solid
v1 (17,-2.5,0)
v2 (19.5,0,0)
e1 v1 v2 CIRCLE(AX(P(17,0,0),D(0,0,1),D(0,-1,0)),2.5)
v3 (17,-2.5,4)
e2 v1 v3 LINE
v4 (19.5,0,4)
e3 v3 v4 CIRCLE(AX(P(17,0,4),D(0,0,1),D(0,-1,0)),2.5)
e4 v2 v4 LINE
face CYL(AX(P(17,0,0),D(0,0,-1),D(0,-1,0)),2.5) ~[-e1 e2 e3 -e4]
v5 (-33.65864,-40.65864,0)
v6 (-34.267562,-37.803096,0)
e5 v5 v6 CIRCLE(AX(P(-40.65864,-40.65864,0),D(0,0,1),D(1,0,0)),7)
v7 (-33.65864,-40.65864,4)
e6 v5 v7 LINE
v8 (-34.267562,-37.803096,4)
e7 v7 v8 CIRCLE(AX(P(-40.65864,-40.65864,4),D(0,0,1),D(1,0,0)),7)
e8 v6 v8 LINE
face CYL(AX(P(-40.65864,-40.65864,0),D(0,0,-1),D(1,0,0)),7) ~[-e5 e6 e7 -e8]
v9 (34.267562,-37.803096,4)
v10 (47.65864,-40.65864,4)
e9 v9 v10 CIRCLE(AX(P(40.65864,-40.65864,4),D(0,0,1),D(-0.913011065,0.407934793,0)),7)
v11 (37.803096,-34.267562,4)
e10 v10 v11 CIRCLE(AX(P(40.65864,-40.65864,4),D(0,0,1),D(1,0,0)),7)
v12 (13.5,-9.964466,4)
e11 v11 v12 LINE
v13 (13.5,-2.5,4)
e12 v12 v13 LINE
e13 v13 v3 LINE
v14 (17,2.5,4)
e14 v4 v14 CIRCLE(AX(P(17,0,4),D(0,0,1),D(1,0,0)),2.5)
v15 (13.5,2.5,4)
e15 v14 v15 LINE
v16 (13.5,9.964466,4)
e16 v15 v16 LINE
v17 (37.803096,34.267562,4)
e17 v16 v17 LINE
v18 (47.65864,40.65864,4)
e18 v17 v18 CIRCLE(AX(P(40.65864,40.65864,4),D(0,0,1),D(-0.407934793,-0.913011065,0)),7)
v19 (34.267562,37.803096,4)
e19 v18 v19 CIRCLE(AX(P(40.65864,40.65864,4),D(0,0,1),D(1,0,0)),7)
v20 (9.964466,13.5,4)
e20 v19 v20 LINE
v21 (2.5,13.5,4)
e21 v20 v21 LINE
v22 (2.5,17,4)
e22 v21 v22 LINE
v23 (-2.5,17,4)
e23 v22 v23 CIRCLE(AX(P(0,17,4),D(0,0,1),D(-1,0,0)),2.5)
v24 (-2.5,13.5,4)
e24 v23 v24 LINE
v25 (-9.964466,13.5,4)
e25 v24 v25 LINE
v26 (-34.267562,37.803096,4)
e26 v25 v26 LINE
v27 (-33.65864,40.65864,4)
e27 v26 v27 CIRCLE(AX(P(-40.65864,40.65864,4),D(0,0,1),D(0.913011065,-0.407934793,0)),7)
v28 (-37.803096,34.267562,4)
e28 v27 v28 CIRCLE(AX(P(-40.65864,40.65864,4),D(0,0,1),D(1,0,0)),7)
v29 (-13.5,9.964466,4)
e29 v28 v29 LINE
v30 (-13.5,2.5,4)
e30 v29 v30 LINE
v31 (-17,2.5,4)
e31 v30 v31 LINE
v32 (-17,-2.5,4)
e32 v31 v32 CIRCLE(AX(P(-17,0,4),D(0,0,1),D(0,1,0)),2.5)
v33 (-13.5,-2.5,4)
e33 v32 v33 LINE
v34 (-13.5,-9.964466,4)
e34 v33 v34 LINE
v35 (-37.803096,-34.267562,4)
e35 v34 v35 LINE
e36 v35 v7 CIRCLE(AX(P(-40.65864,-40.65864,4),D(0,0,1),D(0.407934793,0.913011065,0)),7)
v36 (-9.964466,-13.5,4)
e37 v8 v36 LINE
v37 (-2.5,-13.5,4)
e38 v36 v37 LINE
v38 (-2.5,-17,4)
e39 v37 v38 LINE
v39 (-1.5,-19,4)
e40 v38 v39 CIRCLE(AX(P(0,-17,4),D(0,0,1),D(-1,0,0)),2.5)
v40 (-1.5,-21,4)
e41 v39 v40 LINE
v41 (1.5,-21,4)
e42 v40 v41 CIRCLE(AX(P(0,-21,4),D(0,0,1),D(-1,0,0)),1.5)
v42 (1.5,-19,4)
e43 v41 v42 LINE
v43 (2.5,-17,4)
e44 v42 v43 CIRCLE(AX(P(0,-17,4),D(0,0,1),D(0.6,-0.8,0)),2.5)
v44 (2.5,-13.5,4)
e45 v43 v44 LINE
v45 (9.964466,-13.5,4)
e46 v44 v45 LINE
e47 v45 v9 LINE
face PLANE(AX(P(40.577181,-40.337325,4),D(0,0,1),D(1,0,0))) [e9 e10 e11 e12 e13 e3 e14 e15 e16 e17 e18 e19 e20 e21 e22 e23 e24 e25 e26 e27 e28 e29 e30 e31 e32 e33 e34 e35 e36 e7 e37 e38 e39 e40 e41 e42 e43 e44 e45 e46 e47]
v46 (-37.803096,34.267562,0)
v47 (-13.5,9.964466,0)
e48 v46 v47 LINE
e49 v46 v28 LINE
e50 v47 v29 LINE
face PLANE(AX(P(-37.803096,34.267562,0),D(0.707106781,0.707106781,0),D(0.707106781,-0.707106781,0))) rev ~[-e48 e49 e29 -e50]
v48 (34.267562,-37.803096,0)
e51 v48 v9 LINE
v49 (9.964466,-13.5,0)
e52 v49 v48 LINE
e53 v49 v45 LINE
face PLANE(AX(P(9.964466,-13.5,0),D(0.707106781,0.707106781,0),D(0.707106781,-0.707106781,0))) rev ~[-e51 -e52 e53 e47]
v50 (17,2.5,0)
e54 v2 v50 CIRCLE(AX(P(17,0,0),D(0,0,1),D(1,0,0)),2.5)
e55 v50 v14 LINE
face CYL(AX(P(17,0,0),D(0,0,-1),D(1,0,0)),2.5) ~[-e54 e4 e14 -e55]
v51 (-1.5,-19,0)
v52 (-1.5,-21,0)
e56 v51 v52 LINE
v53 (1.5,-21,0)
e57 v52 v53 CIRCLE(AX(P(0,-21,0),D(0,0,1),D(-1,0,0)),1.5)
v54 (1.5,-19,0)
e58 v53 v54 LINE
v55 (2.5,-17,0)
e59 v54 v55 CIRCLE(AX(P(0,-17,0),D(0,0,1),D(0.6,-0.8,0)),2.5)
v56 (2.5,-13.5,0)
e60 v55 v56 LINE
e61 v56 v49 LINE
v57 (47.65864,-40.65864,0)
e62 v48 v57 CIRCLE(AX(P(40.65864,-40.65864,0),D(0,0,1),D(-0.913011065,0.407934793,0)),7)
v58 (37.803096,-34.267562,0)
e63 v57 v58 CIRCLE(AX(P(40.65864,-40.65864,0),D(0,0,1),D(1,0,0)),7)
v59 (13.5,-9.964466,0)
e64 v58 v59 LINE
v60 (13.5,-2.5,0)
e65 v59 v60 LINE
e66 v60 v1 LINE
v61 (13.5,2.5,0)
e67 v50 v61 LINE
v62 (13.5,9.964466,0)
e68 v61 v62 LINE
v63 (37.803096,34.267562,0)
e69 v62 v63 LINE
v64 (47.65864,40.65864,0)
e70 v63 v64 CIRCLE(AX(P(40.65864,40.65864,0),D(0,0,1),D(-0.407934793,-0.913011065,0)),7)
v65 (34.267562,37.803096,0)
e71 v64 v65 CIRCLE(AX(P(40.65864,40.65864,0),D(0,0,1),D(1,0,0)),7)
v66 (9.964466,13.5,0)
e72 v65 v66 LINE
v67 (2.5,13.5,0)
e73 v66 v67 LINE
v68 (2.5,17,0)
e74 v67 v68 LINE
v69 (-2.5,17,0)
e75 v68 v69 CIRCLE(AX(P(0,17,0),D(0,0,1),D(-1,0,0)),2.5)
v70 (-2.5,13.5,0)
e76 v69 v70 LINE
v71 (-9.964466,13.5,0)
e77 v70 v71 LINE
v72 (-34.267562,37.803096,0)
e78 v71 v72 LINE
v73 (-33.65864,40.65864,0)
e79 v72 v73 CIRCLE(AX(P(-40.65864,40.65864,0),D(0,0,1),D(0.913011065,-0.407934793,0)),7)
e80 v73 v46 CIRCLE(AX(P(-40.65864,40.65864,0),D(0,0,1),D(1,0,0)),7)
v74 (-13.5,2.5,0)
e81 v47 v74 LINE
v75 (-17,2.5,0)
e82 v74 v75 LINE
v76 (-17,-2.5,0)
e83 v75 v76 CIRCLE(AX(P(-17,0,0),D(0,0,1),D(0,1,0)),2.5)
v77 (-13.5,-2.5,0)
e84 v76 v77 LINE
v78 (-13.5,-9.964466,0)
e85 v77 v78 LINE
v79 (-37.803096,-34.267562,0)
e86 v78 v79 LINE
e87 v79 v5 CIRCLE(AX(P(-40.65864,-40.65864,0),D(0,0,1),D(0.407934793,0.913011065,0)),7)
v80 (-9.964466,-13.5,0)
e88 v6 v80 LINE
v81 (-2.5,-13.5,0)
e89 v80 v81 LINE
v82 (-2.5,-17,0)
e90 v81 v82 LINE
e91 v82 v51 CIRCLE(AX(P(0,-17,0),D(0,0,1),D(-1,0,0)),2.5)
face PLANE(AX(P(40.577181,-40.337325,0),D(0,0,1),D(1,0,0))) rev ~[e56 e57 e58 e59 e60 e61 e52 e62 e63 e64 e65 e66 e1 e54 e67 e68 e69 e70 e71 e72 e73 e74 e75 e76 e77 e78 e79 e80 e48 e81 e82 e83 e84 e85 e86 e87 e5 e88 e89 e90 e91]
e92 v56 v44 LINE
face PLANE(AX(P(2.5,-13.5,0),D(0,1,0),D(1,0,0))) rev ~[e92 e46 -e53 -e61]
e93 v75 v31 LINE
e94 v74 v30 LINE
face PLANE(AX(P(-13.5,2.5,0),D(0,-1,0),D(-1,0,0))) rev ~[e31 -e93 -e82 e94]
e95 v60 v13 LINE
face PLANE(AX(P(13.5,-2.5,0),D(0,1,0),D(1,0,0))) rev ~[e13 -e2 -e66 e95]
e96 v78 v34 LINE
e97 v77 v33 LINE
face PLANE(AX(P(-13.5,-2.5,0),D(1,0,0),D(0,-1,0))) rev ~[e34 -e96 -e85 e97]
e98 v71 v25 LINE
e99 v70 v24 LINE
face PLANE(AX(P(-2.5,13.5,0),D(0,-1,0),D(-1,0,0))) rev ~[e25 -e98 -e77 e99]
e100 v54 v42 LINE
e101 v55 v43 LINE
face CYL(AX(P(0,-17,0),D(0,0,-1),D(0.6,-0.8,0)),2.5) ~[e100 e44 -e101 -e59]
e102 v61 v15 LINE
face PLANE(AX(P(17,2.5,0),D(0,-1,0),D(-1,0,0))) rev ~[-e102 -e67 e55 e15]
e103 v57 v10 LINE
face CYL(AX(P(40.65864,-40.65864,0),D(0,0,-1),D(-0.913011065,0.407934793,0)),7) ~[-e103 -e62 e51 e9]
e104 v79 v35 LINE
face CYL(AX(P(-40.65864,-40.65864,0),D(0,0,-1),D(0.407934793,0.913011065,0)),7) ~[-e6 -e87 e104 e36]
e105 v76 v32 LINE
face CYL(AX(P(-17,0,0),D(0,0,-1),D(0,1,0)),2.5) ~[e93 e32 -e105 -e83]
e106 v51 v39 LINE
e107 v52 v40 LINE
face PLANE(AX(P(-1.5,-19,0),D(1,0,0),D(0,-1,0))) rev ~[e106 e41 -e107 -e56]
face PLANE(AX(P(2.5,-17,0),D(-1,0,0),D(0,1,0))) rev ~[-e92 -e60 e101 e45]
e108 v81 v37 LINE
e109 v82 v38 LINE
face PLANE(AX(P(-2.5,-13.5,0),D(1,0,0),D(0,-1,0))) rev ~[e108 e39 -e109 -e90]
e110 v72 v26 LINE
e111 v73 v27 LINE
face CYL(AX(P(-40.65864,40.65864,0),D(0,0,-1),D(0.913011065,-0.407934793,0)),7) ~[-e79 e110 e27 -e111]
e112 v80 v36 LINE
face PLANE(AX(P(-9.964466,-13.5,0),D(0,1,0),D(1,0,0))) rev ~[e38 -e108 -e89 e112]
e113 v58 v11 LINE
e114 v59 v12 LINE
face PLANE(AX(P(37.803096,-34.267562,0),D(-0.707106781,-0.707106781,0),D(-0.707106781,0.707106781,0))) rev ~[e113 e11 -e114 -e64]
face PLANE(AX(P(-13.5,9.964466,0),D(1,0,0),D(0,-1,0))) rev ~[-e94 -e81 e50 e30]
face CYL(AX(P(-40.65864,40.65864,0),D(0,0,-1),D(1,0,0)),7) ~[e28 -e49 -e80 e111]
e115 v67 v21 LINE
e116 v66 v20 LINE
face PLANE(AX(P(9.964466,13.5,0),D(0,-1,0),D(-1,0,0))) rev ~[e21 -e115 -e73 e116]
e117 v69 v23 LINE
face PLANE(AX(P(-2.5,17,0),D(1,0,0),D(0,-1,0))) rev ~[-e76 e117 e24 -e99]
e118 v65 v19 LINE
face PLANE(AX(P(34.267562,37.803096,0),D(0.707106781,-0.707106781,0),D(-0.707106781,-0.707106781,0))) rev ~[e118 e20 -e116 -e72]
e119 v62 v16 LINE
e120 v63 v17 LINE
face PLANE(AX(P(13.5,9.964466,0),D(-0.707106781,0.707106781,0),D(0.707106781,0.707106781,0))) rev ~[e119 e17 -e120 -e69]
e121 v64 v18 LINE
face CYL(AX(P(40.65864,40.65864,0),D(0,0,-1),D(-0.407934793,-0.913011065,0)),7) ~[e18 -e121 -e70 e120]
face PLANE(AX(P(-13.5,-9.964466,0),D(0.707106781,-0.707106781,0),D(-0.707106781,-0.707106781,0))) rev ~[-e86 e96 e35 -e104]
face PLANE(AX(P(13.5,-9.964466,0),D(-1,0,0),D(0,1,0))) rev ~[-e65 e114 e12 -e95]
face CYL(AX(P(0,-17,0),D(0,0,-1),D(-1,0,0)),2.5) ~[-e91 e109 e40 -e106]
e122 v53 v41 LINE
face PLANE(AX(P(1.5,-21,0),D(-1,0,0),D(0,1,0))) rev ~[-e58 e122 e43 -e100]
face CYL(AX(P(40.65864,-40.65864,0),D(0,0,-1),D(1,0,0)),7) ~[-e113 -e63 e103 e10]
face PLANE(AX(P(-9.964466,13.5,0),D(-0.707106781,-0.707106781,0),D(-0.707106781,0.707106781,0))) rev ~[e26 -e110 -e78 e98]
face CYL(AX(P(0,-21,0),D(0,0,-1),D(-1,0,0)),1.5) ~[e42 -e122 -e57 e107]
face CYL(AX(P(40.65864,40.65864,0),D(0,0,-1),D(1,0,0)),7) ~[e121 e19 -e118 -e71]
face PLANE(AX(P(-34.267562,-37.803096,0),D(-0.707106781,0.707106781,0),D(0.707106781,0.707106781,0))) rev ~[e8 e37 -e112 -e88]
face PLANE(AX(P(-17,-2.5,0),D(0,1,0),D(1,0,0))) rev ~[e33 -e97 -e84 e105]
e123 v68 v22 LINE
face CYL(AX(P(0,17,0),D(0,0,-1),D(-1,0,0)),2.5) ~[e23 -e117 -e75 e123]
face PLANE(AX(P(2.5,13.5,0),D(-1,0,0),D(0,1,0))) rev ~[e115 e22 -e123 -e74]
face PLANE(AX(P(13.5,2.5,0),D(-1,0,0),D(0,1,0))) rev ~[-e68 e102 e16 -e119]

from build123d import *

# Parameters (mm, degrees)
F0_R     = 1.5
F0_R_2   = 1
F1_DEPTH = 4


with BuildPart() as f1:
    # F0 (on Top) → F1 (new body)
    with BuildSketch(Plane.XY):
        with BuildLine():
            ThreePointArc((47.6586399182, -40.6586399182), (44.4672613982, -34.7854463728), (37.803096369, -34.267562463))
            Line((37.803096369, -34.267562463), (42.4264068712, -38.8908729653))
            Line((42.4264068712, -38.8908729653), (40.6586399182, -40.6586399182))
            Line((40.6586399182, -40.6586399182), (38.8908729653, -42.4264068712))
            Line((38.8908729653, -42.4264068712), (34.267562463, -37.803096369))
            ThreePointArc((34.267562463, -37.803096369), (39.1987670105, -47.5047169769), (47.6586399182, -40.6586399182))
        make_face()
        with BuildLine():
            Line((-42.4264068712, 38.8908729653), (-40.6586399182, 40.6586399182))
            Line((-40.6586399182, 40.6586399182), (-38.8908729653, 42.4264068712))
            Line((-38.8908729653, 42.4264068712), (-34.267562463, 37.803096369))
            ThreePointArc((-34.267562463, 37.803096369), (-33.8125628596, 39.1987670105), (-33.6586399182, 40.6586399182))
            ThreePointArc((-33.6586399182, 40.6586399182), (-46.5318334637, 44.4672613982), (-37.803096369, 34.267562463))
            Line((-37.803096369, 34.267562463), (-42.4264068712, 38.8908729653))
        make_face()
        with BuildLine():
            Line((-42.4264068712, -38.8908729653), (-37.803096369, -34.267562463))
            ThreePointArc((-37.803096369, -34.267562463), (-46.5318334637, -44.4672613982), (-33.6586399182, -40.6586399182))
            ThreePointArc((-33.6586399182, -40.6586399182), (-33.8125628596, -39.1987670105), (-34.267562463, -37.803096369))
            Line((-34.267562463, -37.803096369), (-38.8908729653, -42.4264068712))
            Line((-38.8908729653, -42.4264068712), (-40.6586399182, -40.6586399182))
            Line((-40.6586399182, -40.6586399182), (-42.4264068712, -38.8908729653))
        make_face()
        with BuildLine():
            ThreePointArc((47.6586399182, 40.6586399182), (39.1987670105, 47.5047169769), (34.267562463, 37.803096369))
            Line((34.267562463, 37.803096369), (38.8908729653, 42.4264068712))
            Line((38.8908729653, 42.4264068712), (40.6586399182, 40.6586399182))
            Line((40.6586399182, 40.6586399182), (42.4264068712, 38.8908729653))
            Line((42.4264068712, 38.8908729653), (37.803096369, 34.267562463))
            ThreePointArc((37.803096369, 34.267562463), (44.4672613982, 34.7854463728), (47.6586399182, 40.6586399182))
        make_face()
        with BuildLine():
            Line((13.5, -13.5), (9.9644660941, -13.5))
            Line((9.9644660941, -13.5), (34.267562463, -37.803096369))
            ThreePointArc((34.267562463, -37.803096369), (34.8923586209, -36.6900129516), (35.7088924499, -35.7088924499))
            Line((35.7088924499, -35.7088924499), (13.5, -13.5))
        make_face()
        with BuildLine():
            Line((-9.9644660941, -13.5), (-13.5, -13.5))
            Line((-13.5, -13.5), (-35.7088924499, -35.7088924499))
            ThreePointArc((-35.7088924499, -35.7088924499), (-34.8923586209, -36.6900129516), (-34.267562463, -37.803096369))
            Line((-34.267562463, -37.803096369), (-9.9644660941, -13.5))
        make_face()
        with BuildLine():
            Line((37.803096369, -34.267562463), (13.5, -9.9644660941))
            Line((13.5, -9.9644660941), (13.5, -13.5))
            Line((13.5, -13.5), (35.7088924499, -35.7088924499))
            ThreePointArc((35.7088924499, -35.7088924499), (36.6900129516, -34.8923586209), (37.803096369, -34.267562463))
        make_face()
        with BuildLine():
            Line((-13.5, -13.5), (-13.5, -9.9644660941))
            Line((-13.5, -9.9644660941), (-37.803096369, -34.267562463))
            ThreePointArc((-37.803096369, -34.267562463), (-36.6900129516, -34.8923586209), (-35.7088924499, -35.7088924499))
            Line((-35.7088924499, -35.7088924499), (-13.5, -13.5))
        make_face()
        with BuildLine():
            Line((34.267562463, 37.803096369), (9.9644660941, 13.5))
            Line((9.9644660941, 13.5), (13.5, 13.5))
            Line((13.5, 13.5), (35.7088924499, 35.7088924499))
            ThreePointArc((35.7088924499, 35.7088924499), (34.8923586209, 36.6900129516), (34.267562463, 37.803096369))
        make_face()
        with BuildLine():
            Line((-35.7088924499, 35.7088924499), (-13.5, 13.5))
            Line((-13.5, 13.5), (-9.9644660941, 13.5))
            Line((-9.9644660941, 13.5), (-34.267562463, 37.803096369))
            ThreePointArc((-34.267562463, 37.803096369), (-34.8923586209, 36.6900129516), (-35.7088924499, 35.7088924499))
        make_face()
        with BuildLine():
            Line((35.7088924499, 35.7088924499), (13.5, 13.5))
            Line((13.5, 13.5), (13.5, 9.9644660941))
            Line((13.5, 9.9644660941), (37.803096369, 34.267562463))
            ThreePointArc((37.803096369, 34.267562463), (36.6900129516, 34.8923586209), (35.7088924499, 35.7088924499))
        make_face()
        with BuildLine():
            Line((-13.5, 9.9644660941), (-13.5, 13.5))
            Line((-13.5, 13.5), (-35.7088924499, 35.7088924499))
            ThreePointArc((-35.7088924499, 35.7088924499), (-36.6900129516, 34.8923586209), (-37.803096369, 34.267562463))
            Line((-37.803096369, 34.267562463), (-13.5, 9.9644660941))
        make_face()
        Polygon((-2.5, 13.5), (-9.9644660941, 13.5), (-7.2144660941, 10.75), (7.2144660941, 10.75), (9.9644660941, 13.5), (2.5, 13.5), align=None)
        Polygon((13.5, 9.9644660941), (10.75, 7.2144660941), (10.75, -7.2144660941), (13.5, -9.9644660941), (13.5, -2.5), (13.5, 2.5), align=None)
        Polygon((-10.75, 7.2144660941), (-13.5, 9.9644660941), (-13.5, 2.5), (-13.5, -2.5), (-13.5, -9.9644660941), (-10.75, -7.2144660941), align=None)
        Polygon((7.2144660941, -10.75), (-7.2144660941, -10.75), (-9.9644660941, -13.5), (-2.5, -13.5), (2.5, -13.5), (9.9644660941, -13.5), align=None)
        Polygon((-4.2855339059, -0.75), (-9.25, -5.7144660941), (-9.25, -9.25), (-1.767766953, -1.767766953), (-2.7855339059, -0.75), align=None)
        Polygon((-5.7144660941, 9.25), (-9.25, 9.25), (-1.767766953, 1.767766953), (-0.75, 2.7855339059), (-0.75, 4.2855339059), align=None)
        Polygon((2.7855339059, -0.75), (1.767766953, -1.767766953), (9.25, -9.25), (9.25, -5.7144660941), (4.2855339059, -0.75), align=None)
        Polygon((9.25, -9.25), (1.767766953, -1.767766953), (0.75, -2.7855339059), (0.75, -4.2855339059), (5.7144660941, -9.25), align=None)
        Polygon((-1.767766953, -1.767766953), (-9.25, -9.25), (-5.7144660941, -9.25), (-0.75, -4.2855339059), (-0.75, -2.7855339059), align=None)
        Polygon((9.25, 5.7144660941), (9.25, 9.25), (1.767766953, 1.767766953), (2.7855339059, 0.75), (4.2855339059, 0.75), align=None)
        Polygon((9.25, 9.25), (5.7144660941, 9.25), (0.75, 4.2855339059), (0.75, 2.7855339059), (1.767766953, 1.767766953), align=None)
        Polygon((-1.767766953, 1.767766953), (-9.25, 9.25), (-9.25, 5.7144660941), (-4.2855339059, 0.75), (-2.7855339059, 0.75), align=None)
        with BuildLine():
            ThreePointArc((19.5, 0), (18.767766953, 1.767766953), (17, 2.5))
            ThreePointArc((17, 2.5), (14.5, 0), (17, -2.5))
            ThreePointArc((17, -2.5), (18.767766953, -1.767766953), (19.5, 0))
        make_face()
        with Locations((17, 0)):
            Circle(F0_R, mode=Mode.SUBTRACT)
        with BuildLine():
            ThreePointArc((2.5, 17), (0, 19.5), (-2.5, 17))
            ThreePointArc((-2.5, 17), (0, 14.5), (2.5, 17))
        make_face()
        with Locations((0, 17)):
            Circle(F0_R, mode=Mode.SUBTRACT)
        with BuildLine():
            ThreePointArc((-14.5, 0), (-15.232233047, 1.767766953), (-17, 2.5))
            ThreePointArc((-17, 2.5), (-19.5, 0), (-17, -2.5))
            ThreePointArc((-17, -2.5), (-15.232233047, -1.767766953), (-14.5, 0))
        make_face()
        with Locations((-17, 0)):
            Circle(F0_R, mode=Mode.SUBTRACT)
        with BuildLine():
            ThreePointArc((2.5, -17), (0, -14.5), (-2.5, -17))
            ThreePointArc((-2.5, -17), (-2.2360679775, -18.1180339887), (-1.5, -19))
            ThreePointArc((-1.5, -19), (-0.790569421, -19.3717082432), (-1.25e-08, -19.5))
            ThreePointArc((-1.25e-08, -19.5), (0.7905694091, -19.3717082471), (1.5, -19))
            ThreePointArc((1.5, -19), (2.2360679775, -18.1180339887), (2.5, -17))
        make_face()
        with Locations((0, -17)):
            Circle(F0_R, mode=Mode.SUBTRACT)
        Polygon((10.75, -7.2144660941), (10.75, 7.2144660941), (9.25, 5.7144660941), (9.25, 0.75), (9.25, -0.75), (9.25, -5.7144660941), align=None)
        Polygon((-5.7144660941, -9.25), (-7.2144660941, -10.75), (7.2144660941, -10.75), (5.7144660941, -9.25), (0.75, -9.25), (-0.75, -9.25), align=None)
        Polygon((-9.25, 5.7144660941), (-10.75, 7.2144660941), (-10.75, -7.2144660941), (-9.25, -5.7144660941), (-9.25, -0.75), (-9.25, 0.75), align=None)
        Polygon((7.2144660941, 10.75), (-7.2144660941, 10.75), (-5.7144660941, 9.25), (-0.75, 9.25), (0.75, 9.25), (5.7144660941, 9.25), align=None)
        with BuildLine():
            ThreePointArc((35.7088924499, -35.7088924499), (34.8923586209, -36.6900129516), (34.267562463, -37.803096369))
            Line((34.267562463, -37.803096369), (38.8908729653, -42.4264068712))
            Line((38.8908729653, -42.4264068712), (40.6586399182, -40.6586399182))
            Line((40.6586399182, -40.6586399182), (35.7088924499, -35.7088924499))
        make_face()
        with BuildLine():
            ThreePointArc((-34.267562463, -37.803096369), (-34.8923586209, -36.6900129516), (-35.7088924499, -35.7088924499))
            Line((-35.7088924499, -35.7088924499), (-40.6586399182, -40.6586399182))
            Line((-40.6586399182, -40.6586399182), (-38.8908729653, -42.4264068712))
            Line((-38.8908729653, -42.4264068712), (-34.267562463, -37.803096369))
        make_face()
        with BuildLine():
            ThreePointArc((-35.7088924499, -35.7088924499), (-36.6900129516, -34.8923586209), (-37.803096369, -34.267562463))
            Line((-37.803096369, -34.267562463), (-42.4264068712, -38.8908729653))
            Line((-42.4264068712, -38.8908729653), (-40.6586399182, -40.6586399182))
            Line((-40.6586399182, -40.6586399182), (-35.7088924499, -35.7088924499))
        make_face()
        with BuildLine():
            Line((42.4264068712, -38.8908729653), (37.803096369, -34.267562463))
            ThreePointArc((37.803096369, -34.267562463), (36.6900129516, -34.8923586209), (35.7088924499, -35.7088924499))
            Line((35.7088924499, -35.7088924499), (40.6586399182, -40.6586399182))
            Line((40.6586399182, -40.6586399182), (42.4264068712, -38.8908729653))
        make_face()
        with BuildLine():
            Line((38.8908729653, 42.4264068712), (34.267562463, 37.803096369))
            ThreePointArc((34.267562463, 37.803096369), (34.8923586209, 36.6900129516), (35.7088924499, 35.7088924499))
            Line((35.7088924499, 35.7088924499), (40.6586399182, 40.6586399182))
            Line((40.6586399182, 40.6586399182), (38.8908729653, 42.4264068712))
        make_face()
        with BuildLine():
            Line((40.6586399182, 40.6586399182), (35.7088924499, 35.7088924499))
            ThreePointArc((35.7088924499, 35.7088924499), (36.6900129516, 34.8923586209), (37.803096369, 34.267562463))
            Line((37.803096369, 34.267562463), (42.4264068712, 38.8908729653))
            Line((42.4264068712, 38.8908729653), (40.6586399182, 40.6586399182))
        make_face()
        with BuildLine():
            ThreePointArc((-37.803096369, 34.267562463), (-36.6900129516, 34.8923586209), (-35.7088924499, 35.7088924499))
            Line((-35.7088924499, 35.7088924499), (-40.6586399182, 40.6586399182))
            Line((-40.6586399182, 40.6586399182), (-42.4264068712, 38.8908729653))
            Line((-42.4264068712, 38.8908729653), (-37.803096369, 34.267562463))
        make_face()
        with BuildLine():
            Line((-40.6586399182, 40.6586399182), (-35.7088924499, 35.7088924499))
            ThreePointArc((-35.7088924499, 35.7088924499), (-34.8923586209, 36.6900129516), (-34.267562463, 37.803096369))
            Line((-34.267562463, 37.803096369), (-38.8908729653, 42.4264068712))
            Line((-38.8908729653, 42.4264068712), (-40.6586399182, 40.6586399182))
        make_face()
        Polygon((4.2855339059, -0.75), (9.25, -5.7144660941), (9.25, -0.75), align=None)
        Polygon((0.75, -9.25), (5.7144660941, -9.25), (0.75, -4.2855339059), align=None)
        Polygon((-0.75, -4.2855339059), (-5.7144660941, -9.25), (-0.75, -9.25), align=None)
        Polygon((0.75, 4.2855339059), (5.7144660941, 9.25), (0.75, 9.25), align=None)
        Polygon((-0.75, 9.25), (-5.7144660941, 9.25), (-0.75, 4.2855339059), align=None)
        Polygon((-4.2855339059, 0.75), (-9.25, 5.7144660941), (-9.25, 0.75), align=None)
        Polygon((-9.25, -0.75), (-9.25, -5.7144660941), (-4.2855339059, -0.75), align=None)
        Polygon((9.25, 0.75), (9.25, 5.7144660941), (4.2855339059, 0.75), align=None)
        Polygon((-9.9644660941, 13.5), (-13.5, 13.5), (-10.75, 10.75), (-7.2144660941, 10.75), align=None)
        Polygon((13.5, 13.5), (10.75, 10.75), (10.75, 7.2144660941), (13.5, 9.9644660941), align=None)
        Polygon((9.9644660941, 13.5), (7.2144660941, 10.75), (10.75, 10.75), (13.5, 13.5), align=None)
        Polygon((-10.75, 10.75), (-13.5, 13.5), (-13.5, 9.9644660941), (-10.75, 7.2144660941), align=None)
        Polygon((13.5, -9.9644660941), (10.75, -7.2144660941), (10.75, -10.75), (13.5, -13.5), align=None)
        Polygon((-7.2144660941, -10.75), (-10.75, -10.75), (-13.5, -13.5), (-9.9644660941, -13.5), align=None)
        Polygon((10.75, -10.75), (7.2144660941, -10.75), (9.9644660941, -13.5), (13.5, -13.5), align=None)
        Polygon((-10.75, -10.75), (-10.75, -7.2144660941), (-13.5, -9.9644660941), (-13.5, -13.5), align=None)
        Polygon((4.2855339059, 0.75), (3.5355339059, 0), (4.2855339059, -0.75), (9.25, -0.75), (9.25, 0.75), align=None)
        Polygon((-3.5355339059, 0), (-4.2855339059, 0.75), (-9.25, 0.75), (-9.25, -0.75), (-4.2855339059, -0.75), align=None)
        Polygon((0.75, -4.2855339059), (0, -3.5355339059), (-0.75, -4.2855339059), (-0.75, -9.25), (0.75, -9.25), align=None)
        Polygon((-0.75, 9.25), (-0.75, 4.2855339059), (0, 3.5355339059), (0.75, 4.2855339059), (0.75, 9.25), align=None)
        with BuildLine():
            Line((2.5, -13.5), (-2.5, -13.5))
            Line((-2.5, -13.5), (-2.5, -17))
            ThreePointArc((-2.5, -17), (0, -14.5), (2.5, -17))
            Line((2.5, -17), (2.5, -13.5))
        make_face()
        with BuildLine():
            Line((-13.5, -2.5), (-13.5, 2.5))
            Line((-13.5, 2.5), (-17, 2.5))
            ThreePointArc((-17, 2.5), (-15.232233047, 1.767766953), (-14.5, 0))
            ThreePointArc((-14.5, 0), (-15.232233047, -1.767766953), (-17, -2.5))
            Line((-17, -2.5), (-13.5, -2.5))
        make_face()
        with BuildLine():
            Line((-2.5, 17), (-2.5, 13.5))
            Line((-2.5, 13.5), (2.5, 13.5))
            Line((2.5, 13.5), (2.5, 17))
            ThreePointArc((2.5, 17), (0, 14.5), (-2.5, 17))
        make_face()
        with BuildLine():
            Line((17, 2.5), (13.5, 2.5))
            Line((13.5, 2.5), (13.5, -2.5))
            Line((13.5, -2.5), (17, -2.5))
            ThreePointArc((17, -2.5), (14.5, 0), (17, 2.5))
        make_face()
        with BuildLine():
            ThreePointArc((1.5, -21), (1.0606601674, -19.9393398238), (-1.25e-08, -19.5))
            ThreePointArc((-1.25e-08, -19.5), (-1.0606601762, -19.9393398326), (-1.5, -21))
            ThreePointArc((-1.5, -21), (0, -22.5), (1.5, -21))
        make_face()
        with Locations((0, -21)):
            Circle(F0_R_2, mode=Mode.SUBTRACT)
        with Locations((17, 0)):
            Circle(F0_R)
        with Locations((0, 17)):
            Circle(F0_R)
        with Locations((-17, 0)):
            Circle(F0_R)
        with Locations((0, -17)):
            Circle(F0_R)
        Polygon((10.75, -10.75), (10.75, -7.2144660941), (9.25, -5.7144660941), (9.25, -9.25), align=None)
        Polygon((10.75, 7.2144660941), (10.75, 10.75), (9.25, 9.25), (9.25, 5.7144660941), align=None)
        Polygon((5.7144660941, -9.25), (7.2144660941, -10.75), (10.75, -10.75), (9.25, -9.25), align=None)
        Polygon((-9.25, 9.25), (-10.75, 10.75), (-10.75, 7.2144660941), (-9.25, 5.7144660941), align=None)
        Polygon((-9.25, -5.7144660941), (-10.75, -7.2144660941), (-10.75, -10.75), (-9.25, -9.25), align=None)
        Polygon((10.75, 10.75), (7.2144660941, 10.75), (5.7144660941, 9.25), (9.25, 9.25), align=None)
        Polygon((-9.25, -9.25), (-10.75, -10.75), (-7.2144660941, -10.75), (-5.7144660941, -9.25), align=None)
        Polygon((-7.2144660941, 10.75), (-10.75, 10.75), (-9.25, 9.25), (-5.7144660941, 9.25), align=None)
        Polygon((0.75, -0.75), (-0.75, -0.75), (-0.75, -2.7855339059), (0, -3.5355339059), (0.75, -2.7855339059), align=None)
        Polygon((-0.75, -0.75), (-0.75, 0.75), (-2.7855339059, 0.75), (-3.5355339059, 0), (-2.7855339059, -0.75), align=None)
        Polygon((-0.75, 2.7855339059), (-0.75, 0.75), (0.75, 0.75), (0.75, 2.7855339059), (0, 3.5355339059), align=None)
        Polygon((2.7855339059, 0.75), (0.75, 0.75), (0.75, -0.75), (2.7855339059, -0.75), (3.5355339059, 0), align=None)
        with Locations((0, -21)):
            Circle(F0_R_2)
        Polygon((2.7855339059, -0.75), (0.75, -0.75), (1.767766953, -1.767766953), align=None)
        Polygon((-0.75, 2.7855339059), (-1.767766953, 1.767766953), (-0.75, 0.75), align=None)
        Polygon((-0.75, -2.7855339059), (-0.75, -0.75), (-1.767766953, -1.767766953), align=None)
        Polygon((-1.767766953, -1.767766953), (-0.75, -0.75), (-2.7855339059, -0.75), align=None)
        Polygon((1.767766953, -1.767766953), (0.75, -0.75), (0.75, -2.7855339059), align=None)
        Polygon((1.767766953, 1.767766953), (0.75, 0.75), (2.7855339059, 0.75), align=None)
        Polygon((0.75, 2.7855339059), (0.75, 0.75), (1.767766953, 1.767766953), align=None)
        Polygon((-0.75, 0.75), (-1.767766953, 1.767766953), (-2.7855339059, 0.75), align=None)
        with BuildLine():
            ThreePointArc((-1.25e-08, -19.5), (-0.790569421, -19.3717082432), (-1.5, -19))
            Line((-1.5, -19), (-1.5, -21))
            ThreePointArc((-1.5, -21), (-1.0606601762, -19.9393398326), (-1.25e-08, -19.5))
        make_face()
        with BuildLine():
            Line((1.5, -21), (1.5, -19))
            ThreePointArc((1.5, -19), (0.7905694091, -19.3717082471), (-1.25e-08, -19.5))
            ThreePointArc((-1.25e-08, -19.5), (1.0606601674, -19.9393398238), (1.5, -21))
        make_face()
        Polygon((0.75, 4.2855339059), (0, 3.5355339059), (0.75, 2.7855339059), align=None)
        Polygon((0, -3.5355339059), (-0.75, -2.7855339059), (-0.75, -4.2855339059), align=None)
        Polygon((0.75, -4.2855339059), (0.75, -2.7855339059), (0, -3.5355339059), align=None)
        Polygon((-0.75, 4.2855339059), (-0.75, 2.7855339059), (0, 3.5355339059), align=None)
        Polygon((3.5355339059, 0), (2.7855339059, -0.75), (4.2855339059, -0.75), align=None)
        Polygon((4.2855339059, 0.75), (2.7855339059, 0.75), (3.5355339059, 0), align=None)
        Polygon((-3.5355339059, 0), (-2.7855339059, 0.75), (-4.2855339059, 0.75), align=None)
        Polygon((0.75, 0.75), (-0.75, 0.75), (0, 0), align=None)
        Polygon((0.75, -0.75), (0, 0), (-0.75, -0.75), align=None)
        Polygon((-2.7855339059, -0.75), (-3.5355339059, 0), (-4.2855339059, -0.75), align=None)
        Polygon((0, 0), (-0.75, 0.75), (-0.75, -0.75), align=None)
        Polygon((0.75, 0.75), (0, 0), (0.75, -0.75), align=None)
    extrude(amount=F1_DEPTH)


solid = f1.part
